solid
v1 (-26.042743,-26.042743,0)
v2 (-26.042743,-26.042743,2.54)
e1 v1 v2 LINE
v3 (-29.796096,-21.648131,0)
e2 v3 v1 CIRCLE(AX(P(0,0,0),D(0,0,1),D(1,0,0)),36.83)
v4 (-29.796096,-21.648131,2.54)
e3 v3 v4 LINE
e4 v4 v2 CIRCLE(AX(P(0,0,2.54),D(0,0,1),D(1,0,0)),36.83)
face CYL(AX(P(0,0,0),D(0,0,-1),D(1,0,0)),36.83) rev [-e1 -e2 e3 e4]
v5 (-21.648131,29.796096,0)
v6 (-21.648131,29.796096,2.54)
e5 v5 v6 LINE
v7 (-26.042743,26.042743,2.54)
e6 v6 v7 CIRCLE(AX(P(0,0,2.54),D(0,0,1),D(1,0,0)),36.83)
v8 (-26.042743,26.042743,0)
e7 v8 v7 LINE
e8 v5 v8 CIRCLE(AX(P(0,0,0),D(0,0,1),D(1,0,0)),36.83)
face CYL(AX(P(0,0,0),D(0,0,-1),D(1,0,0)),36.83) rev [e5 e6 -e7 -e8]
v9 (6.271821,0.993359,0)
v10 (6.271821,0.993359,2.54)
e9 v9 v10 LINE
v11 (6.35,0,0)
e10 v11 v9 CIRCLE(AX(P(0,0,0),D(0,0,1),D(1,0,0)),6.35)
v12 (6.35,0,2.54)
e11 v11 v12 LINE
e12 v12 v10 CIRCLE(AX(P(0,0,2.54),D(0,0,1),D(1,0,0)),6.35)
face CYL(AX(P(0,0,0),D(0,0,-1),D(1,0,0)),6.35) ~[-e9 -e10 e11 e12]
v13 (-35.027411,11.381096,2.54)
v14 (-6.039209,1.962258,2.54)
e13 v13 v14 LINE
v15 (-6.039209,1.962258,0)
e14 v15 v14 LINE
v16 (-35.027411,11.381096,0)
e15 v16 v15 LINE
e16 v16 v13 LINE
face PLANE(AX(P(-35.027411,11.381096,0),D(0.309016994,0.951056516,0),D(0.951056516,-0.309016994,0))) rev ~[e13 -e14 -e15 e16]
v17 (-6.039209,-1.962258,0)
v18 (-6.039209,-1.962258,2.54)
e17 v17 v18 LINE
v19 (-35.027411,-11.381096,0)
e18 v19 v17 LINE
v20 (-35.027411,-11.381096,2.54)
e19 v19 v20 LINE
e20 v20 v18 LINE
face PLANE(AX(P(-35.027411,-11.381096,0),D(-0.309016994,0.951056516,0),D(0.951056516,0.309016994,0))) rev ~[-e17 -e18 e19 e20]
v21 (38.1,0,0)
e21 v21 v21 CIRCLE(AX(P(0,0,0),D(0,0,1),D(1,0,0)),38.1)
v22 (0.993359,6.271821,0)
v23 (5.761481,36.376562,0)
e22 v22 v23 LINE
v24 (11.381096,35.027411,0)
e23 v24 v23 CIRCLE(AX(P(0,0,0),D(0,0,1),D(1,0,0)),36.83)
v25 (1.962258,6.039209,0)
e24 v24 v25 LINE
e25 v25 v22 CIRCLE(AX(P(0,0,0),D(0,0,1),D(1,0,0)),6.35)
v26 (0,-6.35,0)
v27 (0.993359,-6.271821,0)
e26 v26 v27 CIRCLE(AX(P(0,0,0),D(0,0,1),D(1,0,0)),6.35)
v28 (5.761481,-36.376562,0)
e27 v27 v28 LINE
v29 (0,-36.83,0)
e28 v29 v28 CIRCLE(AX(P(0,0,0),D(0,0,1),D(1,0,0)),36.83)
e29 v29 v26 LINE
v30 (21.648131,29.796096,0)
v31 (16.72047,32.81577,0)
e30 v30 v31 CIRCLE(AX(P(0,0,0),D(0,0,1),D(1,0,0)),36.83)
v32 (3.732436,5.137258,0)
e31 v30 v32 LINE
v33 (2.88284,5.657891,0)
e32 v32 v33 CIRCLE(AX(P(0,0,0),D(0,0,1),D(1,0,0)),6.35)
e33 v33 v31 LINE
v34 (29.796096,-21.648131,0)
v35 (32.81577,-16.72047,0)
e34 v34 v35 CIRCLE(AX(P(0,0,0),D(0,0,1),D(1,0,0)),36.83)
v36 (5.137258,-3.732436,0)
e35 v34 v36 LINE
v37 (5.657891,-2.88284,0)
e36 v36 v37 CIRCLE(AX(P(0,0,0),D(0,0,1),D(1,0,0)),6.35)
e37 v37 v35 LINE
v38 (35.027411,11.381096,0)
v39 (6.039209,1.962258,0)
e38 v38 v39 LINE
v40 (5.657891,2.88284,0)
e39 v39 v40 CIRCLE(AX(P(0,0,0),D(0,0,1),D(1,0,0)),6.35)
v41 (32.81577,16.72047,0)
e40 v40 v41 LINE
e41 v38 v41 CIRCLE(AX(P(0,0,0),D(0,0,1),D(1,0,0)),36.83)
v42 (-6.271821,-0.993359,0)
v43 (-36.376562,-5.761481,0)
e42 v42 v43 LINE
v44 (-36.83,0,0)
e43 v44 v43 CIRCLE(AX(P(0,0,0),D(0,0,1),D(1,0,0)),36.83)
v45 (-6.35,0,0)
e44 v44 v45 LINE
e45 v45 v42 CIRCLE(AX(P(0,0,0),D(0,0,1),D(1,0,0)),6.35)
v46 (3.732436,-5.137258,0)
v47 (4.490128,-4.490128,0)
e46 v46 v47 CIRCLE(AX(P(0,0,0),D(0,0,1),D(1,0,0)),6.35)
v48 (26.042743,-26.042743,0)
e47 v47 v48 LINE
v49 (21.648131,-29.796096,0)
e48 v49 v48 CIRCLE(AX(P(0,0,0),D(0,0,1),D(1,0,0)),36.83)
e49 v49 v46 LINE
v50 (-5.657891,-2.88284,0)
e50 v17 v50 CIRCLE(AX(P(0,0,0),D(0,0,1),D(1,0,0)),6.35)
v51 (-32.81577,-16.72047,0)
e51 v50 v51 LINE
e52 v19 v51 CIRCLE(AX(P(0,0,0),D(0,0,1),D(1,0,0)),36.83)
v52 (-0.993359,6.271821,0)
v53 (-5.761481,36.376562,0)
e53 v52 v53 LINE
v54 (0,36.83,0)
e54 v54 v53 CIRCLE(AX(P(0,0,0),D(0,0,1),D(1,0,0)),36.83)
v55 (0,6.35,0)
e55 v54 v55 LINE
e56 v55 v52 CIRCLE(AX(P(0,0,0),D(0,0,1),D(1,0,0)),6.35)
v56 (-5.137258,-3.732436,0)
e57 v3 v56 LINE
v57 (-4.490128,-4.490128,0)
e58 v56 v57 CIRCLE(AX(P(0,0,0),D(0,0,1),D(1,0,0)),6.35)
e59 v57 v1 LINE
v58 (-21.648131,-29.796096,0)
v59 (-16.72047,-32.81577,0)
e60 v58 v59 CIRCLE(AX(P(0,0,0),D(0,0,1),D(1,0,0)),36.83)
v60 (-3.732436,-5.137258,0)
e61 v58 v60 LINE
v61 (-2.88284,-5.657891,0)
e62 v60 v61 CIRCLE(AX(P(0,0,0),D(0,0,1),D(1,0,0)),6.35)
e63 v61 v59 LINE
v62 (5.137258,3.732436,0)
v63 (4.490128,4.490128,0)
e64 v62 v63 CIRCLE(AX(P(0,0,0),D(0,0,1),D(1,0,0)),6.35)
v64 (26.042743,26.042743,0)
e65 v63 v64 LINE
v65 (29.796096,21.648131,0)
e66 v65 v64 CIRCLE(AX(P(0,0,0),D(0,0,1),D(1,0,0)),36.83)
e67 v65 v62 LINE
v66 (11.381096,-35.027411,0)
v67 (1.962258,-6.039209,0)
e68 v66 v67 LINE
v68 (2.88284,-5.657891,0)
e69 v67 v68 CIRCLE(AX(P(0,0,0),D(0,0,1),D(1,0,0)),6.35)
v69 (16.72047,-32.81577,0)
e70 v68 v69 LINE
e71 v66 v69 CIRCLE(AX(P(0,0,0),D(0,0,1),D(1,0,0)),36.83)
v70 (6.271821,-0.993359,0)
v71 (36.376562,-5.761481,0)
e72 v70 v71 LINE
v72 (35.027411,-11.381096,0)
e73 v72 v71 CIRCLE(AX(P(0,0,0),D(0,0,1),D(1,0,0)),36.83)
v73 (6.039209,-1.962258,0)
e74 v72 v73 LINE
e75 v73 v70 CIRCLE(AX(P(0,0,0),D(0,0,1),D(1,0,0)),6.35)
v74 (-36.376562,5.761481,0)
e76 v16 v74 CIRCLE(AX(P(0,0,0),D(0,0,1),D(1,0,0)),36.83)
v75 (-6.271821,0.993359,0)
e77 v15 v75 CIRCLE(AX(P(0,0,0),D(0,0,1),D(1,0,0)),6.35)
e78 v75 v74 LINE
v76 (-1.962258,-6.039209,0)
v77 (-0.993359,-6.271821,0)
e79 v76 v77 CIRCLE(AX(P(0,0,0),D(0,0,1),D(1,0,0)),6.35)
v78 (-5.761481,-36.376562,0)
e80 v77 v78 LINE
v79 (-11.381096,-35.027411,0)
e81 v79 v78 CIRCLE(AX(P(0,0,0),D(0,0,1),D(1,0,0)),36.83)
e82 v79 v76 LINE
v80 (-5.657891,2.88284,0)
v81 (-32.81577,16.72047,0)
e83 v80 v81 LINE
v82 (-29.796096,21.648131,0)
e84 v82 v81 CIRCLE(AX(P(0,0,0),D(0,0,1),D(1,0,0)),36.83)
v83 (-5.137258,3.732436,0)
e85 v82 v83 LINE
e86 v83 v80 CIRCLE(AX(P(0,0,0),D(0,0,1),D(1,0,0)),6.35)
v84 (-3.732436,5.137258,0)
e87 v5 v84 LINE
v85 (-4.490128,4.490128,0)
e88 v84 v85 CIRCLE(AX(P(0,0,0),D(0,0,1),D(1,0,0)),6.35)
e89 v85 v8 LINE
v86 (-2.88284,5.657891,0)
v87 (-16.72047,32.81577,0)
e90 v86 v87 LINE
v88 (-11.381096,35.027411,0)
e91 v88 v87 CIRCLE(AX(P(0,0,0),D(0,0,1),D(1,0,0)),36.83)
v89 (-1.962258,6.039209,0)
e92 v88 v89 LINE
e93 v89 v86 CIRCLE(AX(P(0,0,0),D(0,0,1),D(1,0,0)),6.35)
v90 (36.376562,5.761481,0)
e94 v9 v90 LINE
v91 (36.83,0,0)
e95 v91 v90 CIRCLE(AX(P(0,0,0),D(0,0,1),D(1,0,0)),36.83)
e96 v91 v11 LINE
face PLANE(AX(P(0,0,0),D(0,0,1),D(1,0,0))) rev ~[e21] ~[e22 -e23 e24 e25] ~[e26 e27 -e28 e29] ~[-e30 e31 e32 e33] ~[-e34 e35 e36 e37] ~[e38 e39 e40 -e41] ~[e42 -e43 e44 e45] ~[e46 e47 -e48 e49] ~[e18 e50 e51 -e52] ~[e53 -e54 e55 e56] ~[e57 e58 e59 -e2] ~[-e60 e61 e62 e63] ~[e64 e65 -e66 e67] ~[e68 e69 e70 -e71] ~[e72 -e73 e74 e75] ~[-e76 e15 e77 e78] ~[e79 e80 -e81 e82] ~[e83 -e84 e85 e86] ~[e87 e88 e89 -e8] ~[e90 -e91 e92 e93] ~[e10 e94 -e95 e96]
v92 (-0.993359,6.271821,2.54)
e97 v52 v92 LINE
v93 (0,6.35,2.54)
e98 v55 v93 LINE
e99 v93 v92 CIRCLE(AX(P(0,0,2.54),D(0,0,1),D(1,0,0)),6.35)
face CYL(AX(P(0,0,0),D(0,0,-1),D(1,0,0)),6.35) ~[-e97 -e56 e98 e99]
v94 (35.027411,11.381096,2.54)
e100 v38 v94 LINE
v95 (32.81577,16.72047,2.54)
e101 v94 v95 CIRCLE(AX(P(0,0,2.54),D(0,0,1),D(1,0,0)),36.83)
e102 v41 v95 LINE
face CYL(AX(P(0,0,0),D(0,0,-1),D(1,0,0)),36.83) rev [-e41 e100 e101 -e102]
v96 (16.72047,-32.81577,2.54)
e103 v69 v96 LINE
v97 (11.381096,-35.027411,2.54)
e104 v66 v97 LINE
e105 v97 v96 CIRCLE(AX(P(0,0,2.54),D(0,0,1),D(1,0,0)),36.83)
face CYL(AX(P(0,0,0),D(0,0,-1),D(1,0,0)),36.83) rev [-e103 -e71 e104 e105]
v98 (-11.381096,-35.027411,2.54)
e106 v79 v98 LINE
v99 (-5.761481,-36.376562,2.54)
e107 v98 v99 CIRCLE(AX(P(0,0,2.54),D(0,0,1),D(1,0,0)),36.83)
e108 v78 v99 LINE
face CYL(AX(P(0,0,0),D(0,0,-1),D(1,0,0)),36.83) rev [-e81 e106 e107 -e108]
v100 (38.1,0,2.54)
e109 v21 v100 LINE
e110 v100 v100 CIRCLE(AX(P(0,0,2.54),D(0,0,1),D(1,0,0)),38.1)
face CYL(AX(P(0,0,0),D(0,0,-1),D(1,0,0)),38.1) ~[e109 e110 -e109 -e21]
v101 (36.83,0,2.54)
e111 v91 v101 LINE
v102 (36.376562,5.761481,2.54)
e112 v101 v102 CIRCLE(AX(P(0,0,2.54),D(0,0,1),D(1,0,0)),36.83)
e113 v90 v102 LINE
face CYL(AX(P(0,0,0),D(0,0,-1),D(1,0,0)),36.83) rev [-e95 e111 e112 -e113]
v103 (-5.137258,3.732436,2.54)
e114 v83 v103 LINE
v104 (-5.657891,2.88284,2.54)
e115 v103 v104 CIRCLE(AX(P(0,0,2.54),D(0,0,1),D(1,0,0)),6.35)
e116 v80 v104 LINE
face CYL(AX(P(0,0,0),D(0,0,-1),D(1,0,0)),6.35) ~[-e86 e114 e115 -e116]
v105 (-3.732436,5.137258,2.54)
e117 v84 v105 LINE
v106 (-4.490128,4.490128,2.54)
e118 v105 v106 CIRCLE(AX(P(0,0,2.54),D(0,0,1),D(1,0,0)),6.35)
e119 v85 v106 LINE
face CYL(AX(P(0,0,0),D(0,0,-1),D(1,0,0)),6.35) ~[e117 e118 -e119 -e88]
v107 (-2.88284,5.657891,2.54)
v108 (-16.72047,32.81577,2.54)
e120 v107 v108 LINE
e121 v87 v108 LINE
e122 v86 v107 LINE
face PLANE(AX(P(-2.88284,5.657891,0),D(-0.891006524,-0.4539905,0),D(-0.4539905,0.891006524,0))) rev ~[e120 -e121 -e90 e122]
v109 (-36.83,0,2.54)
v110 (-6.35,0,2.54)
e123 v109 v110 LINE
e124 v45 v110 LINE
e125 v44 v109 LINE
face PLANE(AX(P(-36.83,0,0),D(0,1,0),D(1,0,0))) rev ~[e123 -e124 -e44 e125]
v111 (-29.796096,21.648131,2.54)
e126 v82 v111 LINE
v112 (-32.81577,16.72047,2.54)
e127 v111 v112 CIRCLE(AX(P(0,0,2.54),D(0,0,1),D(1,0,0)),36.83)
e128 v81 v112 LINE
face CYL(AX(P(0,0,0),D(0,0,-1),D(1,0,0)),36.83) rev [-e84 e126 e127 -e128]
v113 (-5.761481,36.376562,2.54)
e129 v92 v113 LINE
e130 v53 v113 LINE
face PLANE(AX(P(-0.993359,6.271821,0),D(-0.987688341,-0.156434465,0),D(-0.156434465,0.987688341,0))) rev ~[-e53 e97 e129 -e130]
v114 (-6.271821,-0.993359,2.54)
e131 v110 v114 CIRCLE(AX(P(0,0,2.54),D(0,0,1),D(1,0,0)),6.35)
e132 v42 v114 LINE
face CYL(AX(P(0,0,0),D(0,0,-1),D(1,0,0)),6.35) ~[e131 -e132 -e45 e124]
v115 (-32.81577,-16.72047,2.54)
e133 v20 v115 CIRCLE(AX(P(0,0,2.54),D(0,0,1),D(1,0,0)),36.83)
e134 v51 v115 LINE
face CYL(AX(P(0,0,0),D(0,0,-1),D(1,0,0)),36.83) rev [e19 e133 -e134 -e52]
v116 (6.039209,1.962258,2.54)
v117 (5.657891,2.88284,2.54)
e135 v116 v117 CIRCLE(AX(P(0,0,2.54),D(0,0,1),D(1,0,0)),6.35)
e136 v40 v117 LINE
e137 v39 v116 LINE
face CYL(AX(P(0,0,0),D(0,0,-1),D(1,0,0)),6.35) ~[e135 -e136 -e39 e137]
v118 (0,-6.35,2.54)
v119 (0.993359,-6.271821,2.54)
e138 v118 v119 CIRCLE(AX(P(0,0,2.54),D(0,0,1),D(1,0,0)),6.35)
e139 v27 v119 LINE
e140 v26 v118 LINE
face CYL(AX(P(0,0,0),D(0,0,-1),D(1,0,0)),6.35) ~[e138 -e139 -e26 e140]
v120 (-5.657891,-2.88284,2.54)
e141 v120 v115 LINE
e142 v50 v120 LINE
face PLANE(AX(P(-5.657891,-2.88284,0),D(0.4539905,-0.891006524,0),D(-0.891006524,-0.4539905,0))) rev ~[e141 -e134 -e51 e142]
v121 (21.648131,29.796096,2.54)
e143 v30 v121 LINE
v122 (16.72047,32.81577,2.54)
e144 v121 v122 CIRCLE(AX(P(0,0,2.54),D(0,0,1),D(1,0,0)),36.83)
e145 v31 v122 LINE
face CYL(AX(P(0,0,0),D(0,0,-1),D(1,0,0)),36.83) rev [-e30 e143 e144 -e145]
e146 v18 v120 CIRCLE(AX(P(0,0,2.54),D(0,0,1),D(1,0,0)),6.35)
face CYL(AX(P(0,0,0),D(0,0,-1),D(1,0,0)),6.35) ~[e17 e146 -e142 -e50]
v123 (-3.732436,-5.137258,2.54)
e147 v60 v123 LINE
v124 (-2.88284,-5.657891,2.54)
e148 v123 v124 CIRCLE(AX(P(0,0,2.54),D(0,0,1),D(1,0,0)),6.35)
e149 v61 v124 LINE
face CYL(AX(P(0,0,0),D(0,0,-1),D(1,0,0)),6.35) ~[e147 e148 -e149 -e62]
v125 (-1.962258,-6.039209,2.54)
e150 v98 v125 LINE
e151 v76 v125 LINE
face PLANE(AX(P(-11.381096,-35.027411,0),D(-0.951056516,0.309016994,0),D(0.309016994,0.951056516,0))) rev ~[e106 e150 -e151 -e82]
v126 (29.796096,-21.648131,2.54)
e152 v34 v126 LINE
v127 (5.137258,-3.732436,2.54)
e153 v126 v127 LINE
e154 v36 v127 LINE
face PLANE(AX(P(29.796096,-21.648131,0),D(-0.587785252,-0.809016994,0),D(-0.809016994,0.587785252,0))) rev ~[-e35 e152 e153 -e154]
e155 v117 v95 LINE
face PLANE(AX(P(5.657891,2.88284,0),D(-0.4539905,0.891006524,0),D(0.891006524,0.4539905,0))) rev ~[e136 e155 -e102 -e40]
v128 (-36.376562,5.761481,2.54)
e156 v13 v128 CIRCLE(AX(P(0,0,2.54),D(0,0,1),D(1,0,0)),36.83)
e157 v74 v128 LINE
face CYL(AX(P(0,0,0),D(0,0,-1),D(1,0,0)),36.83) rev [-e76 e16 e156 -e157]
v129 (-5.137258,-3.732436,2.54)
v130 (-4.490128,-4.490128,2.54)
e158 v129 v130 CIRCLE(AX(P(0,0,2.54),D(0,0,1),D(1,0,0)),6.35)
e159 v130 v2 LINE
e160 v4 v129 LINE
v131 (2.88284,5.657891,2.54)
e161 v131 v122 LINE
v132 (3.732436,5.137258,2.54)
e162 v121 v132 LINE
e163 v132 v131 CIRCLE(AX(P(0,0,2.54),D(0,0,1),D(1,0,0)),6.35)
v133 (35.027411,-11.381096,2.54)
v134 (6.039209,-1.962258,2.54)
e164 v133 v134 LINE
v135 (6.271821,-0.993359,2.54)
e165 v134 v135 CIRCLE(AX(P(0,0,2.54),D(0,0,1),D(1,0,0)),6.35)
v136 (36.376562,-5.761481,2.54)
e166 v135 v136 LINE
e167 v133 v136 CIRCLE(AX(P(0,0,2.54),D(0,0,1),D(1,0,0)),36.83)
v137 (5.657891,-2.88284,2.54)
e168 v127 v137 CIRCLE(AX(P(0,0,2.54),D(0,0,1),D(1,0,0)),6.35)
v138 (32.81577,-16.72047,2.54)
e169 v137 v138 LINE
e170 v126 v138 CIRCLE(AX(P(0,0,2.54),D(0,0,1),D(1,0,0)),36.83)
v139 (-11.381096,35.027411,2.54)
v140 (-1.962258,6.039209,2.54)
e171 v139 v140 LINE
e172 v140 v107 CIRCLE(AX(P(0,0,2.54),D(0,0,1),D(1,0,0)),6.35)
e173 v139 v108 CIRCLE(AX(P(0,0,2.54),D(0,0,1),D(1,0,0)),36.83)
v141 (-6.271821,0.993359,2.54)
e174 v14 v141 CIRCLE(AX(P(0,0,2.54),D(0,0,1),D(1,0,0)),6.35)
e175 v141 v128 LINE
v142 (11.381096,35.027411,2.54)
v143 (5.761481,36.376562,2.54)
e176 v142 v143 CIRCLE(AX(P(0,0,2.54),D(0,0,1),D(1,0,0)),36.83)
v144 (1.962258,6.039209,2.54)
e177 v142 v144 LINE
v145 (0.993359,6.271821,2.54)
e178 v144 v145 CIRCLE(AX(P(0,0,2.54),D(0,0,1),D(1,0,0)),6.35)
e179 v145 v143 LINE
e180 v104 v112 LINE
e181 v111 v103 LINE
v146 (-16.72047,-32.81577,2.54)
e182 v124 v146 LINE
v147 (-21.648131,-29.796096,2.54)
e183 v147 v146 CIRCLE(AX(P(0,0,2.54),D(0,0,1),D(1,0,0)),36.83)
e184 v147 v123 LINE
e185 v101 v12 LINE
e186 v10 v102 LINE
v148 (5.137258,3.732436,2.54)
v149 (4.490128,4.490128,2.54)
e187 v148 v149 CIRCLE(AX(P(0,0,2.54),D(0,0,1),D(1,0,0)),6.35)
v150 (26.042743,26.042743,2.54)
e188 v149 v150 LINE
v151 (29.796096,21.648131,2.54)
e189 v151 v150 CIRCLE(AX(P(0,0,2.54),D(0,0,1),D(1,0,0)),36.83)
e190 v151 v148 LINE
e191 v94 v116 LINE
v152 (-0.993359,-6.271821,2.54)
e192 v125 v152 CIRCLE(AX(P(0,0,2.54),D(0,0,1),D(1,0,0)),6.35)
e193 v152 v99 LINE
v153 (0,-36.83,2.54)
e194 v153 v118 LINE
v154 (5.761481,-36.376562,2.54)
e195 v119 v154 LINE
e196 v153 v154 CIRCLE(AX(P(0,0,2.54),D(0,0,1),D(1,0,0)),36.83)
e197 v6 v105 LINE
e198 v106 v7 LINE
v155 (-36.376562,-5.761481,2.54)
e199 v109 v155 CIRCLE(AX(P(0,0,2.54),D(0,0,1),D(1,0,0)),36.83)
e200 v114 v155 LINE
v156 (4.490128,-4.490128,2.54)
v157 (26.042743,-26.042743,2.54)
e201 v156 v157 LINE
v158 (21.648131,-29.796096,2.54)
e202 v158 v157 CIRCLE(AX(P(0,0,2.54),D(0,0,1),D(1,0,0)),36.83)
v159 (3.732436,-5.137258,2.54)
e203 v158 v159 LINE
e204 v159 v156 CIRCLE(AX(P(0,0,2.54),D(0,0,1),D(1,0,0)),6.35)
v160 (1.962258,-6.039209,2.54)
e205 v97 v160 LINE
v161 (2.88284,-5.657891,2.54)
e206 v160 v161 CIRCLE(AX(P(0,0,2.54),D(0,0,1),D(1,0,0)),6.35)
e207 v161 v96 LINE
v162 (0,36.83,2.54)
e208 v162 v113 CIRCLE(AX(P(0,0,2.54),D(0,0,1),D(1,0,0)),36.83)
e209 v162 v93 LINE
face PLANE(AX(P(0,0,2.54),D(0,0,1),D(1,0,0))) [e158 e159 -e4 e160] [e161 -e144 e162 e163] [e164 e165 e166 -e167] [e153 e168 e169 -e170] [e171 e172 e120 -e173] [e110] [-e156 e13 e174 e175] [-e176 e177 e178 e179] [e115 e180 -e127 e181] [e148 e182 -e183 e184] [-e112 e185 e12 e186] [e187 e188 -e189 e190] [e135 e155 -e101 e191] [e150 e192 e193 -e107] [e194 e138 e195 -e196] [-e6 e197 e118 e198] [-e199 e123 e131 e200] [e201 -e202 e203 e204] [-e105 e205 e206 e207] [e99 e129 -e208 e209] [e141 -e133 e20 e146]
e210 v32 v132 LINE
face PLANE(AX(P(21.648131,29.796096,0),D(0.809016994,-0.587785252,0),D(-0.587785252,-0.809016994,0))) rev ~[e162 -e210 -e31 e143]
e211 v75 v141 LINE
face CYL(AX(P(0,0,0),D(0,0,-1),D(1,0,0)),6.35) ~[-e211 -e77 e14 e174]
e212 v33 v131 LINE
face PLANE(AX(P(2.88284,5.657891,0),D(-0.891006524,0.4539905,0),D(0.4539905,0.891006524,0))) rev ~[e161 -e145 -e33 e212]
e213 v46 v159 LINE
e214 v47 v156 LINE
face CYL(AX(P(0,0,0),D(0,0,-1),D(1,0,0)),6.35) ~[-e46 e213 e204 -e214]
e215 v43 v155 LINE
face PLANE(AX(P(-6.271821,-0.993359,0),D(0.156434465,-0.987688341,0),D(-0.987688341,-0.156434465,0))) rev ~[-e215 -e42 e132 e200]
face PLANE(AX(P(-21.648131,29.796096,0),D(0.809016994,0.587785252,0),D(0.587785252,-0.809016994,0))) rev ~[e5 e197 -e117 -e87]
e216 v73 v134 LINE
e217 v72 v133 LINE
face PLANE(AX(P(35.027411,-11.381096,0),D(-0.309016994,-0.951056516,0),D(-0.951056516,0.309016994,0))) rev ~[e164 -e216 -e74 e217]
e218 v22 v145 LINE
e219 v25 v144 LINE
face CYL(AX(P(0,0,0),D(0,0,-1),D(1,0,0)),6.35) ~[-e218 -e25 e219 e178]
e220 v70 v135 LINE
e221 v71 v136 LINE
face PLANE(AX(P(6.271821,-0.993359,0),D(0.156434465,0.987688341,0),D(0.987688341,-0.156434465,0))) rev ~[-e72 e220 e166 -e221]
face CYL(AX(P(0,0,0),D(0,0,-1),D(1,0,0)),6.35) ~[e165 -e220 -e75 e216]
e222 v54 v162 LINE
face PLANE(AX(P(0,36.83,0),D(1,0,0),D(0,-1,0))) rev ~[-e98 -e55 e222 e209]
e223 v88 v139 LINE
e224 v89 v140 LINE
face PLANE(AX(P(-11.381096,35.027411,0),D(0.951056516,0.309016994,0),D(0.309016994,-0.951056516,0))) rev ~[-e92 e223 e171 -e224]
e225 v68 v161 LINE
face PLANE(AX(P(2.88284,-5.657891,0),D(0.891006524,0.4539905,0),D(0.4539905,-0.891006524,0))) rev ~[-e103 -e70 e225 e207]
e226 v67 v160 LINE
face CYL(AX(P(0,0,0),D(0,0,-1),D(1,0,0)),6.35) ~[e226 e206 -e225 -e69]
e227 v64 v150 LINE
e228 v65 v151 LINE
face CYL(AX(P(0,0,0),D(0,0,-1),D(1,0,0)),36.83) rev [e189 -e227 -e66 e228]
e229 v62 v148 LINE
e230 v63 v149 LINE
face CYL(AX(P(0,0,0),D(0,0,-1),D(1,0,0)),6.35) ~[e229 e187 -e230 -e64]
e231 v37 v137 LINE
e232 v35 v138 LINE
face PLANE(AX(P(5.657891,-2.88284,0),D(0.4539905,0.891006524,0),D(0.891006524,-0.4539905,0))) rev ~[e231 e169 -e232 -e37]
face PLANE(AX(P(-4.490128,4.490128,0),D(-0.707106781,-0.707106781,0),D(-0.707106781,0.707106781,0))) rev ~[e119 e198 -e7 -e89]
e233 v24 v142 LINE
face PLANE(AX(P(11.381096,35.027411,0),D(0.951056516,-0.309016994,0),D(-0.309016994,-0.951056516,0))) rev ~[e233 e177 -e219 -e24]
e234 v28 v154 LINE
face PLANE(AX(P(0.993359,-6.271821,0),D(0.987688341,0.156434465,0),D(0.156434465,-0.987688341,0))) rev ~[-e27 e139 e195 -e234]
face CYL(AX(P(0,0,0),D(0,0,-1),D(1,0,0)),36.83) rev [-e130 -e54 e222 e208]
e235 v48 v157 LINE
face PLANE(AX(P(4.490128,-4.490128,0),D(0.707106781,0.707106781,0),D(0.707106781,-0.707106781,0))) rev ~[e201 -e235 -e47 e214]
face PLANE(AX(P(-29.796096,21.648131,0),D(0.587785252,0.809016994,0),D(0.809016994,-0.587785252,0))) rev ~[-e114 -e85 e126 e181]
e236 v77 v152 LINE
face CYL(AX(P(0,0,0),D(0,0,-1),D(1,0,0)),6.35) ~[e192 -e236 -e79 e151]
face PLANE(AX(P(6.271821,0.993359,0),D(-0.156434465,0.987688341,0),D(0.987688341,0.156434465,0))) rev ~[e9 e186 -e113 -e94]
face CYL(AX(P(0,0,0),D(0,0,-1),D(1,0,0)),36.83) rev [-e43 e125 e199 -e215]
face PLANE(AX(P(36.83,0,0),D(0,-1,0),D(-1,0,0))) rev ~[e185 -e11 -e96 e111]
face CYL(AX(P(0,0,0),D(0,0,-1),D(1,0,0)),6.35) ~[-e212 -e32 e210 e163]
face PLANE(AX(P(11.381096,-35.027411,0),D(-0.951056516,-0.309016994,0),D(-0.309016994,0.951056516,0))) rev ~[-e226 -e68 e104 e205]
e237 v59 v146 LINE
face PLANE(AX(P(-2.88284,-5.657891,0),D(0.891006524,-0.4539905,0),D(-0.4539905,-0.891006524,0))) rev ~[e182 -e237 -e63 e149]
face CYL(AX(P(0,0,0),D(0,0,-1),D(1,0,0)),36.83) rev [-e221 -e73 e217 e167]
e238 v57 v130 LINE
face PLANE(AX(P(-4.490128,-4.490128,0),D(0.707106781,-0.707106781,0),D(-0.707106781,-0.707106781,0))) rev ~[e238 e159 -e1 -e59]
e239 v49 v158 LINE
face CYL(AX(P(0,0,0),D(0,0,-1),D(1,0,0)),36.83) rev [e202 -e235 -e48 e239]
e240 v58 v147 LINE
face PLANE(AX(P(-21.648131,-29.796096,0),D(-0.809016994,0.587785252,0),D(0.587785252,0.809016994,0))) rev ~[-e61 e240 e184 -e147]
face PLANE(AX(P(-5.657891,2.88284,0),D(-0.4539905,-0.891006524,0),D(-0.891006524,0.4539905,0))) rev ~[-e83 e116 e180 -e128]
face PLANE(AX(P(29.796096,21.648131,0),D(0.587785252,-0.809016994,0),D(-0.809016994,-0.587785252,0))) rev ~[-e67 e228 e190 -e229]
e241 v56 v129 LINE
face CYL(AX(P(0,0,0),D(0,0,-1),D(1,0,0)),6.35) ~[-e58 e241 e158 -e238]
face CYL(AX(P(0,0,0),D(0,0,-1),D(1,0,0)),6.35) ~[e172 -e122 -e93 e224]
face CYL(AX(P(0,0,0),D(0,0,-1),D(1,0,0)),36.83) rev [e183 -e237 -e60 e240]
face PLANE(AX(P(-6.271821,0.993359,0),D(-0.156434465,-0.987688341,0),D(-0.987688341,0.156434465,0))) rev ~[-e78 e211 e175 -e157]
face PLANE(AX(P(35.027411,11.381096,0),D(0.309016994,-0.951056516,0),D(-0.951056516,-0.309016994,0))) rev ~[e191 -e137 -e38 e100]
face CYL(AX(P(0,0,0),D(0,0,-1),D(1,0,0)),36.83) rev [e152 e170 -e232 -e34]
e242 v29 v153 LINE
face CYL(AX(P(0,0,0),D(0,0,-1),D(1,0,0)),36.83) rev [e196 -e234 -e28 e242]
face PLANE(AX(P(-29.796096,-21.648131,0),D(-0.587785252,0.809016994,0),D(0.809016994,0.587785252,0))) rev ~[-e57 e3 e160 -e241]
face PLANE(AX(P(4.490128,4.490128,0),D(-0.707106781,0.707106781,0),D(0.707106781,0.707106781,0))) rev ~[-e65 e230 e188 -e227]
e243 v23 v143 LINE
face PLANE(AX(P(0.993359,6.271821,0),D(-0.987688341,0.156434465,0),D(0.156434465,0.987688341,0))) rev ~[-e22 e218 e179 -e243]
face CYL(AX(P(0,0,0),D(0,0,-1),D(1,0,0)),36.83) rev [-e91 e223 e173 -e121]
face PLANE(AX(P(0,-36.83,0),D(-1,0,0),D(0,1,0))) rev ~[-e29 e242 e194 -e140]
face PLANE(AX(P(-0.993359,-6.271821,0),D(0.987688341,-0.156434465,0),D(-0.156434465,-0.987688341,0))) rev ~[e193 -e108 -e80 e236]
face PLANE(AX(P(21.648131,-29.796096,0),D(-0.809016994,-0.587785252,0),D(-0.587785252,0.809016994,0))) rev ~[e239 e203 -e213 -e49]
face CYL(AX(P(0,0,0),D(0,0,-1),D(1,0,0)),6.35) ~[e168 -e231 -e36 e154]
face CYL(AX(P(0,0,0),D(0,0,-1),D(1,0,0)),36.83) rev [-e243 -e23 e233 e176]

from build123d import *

# Parameters (mm, degrees)
SKETCH1_R           = 38.1
BOSS_EXTRUDE3_DEPTH = 2.54


with BuildPart() as part:
    # Sketch1 → Boss-Extrude3 (new body)
    with BuildSketch(Plane.XY):
        Circle(SKETCH1_R)
        with BuildLine():
            Line((0, -36.83), (0, -6.35))
            ThreePointArc((0, -6.35), (0.498215258, -6.330425069), (0.993358853, -6.271820963))
            Line((0.993358853, -6.271820963), (5.761481347, -36.376561584))
            ThreePointArc((5.761481347, -36.376561584), (2.889648496, -36.716465401), (0, -36.83))
        make_face(mode=Mode.SUBTRACT)
        with BuildLine():
            Line((-0.993358853, -6.271820963), (-5.761481347, -36.376561584))
            ThreePointArc((-5.761481347, -36.376561584), (-8.597792751, -35.812384168), (-11.381095903, -35.027411495))
            Line((-11.381095903, -35.027411495), (-1.962257914, -6.039208878))
            ThreePointArc((-1.962257914, -6.039208878), (-1.48237806, -6.174548995), (-0.993358853, -6.271820963))
        make_face(mode=Mode.SUBTRACT)
        with BuildLine():
            ThreePointArc((16.720470105, -32.815770286), (14.094230814, -34.026483182), (11.381095903, -35.027411495))
            Line((11.381095903, -35.027411495), (1.962257914, -6.039208878))
            ThreePointArc((1.962257914, -6.039208878), (2.430039796, -5.866635031), (2.882839673, -5.657891429))
            Line((2.882839673, -5.657891429), (16.720470105, -32.815770286))
        make_face(mode=Mode.SUBTRACT)
        with BuildLine():
            ThreePointArc((26.042742751, -26.042742751), (23.91917162, -28.005751713), (21.648130842, -29.796095903))
            Line((21.648130842, -29.796095903), (3.732436352, -5.137257914))
            ThreePointArc((3.732436352, -5.137257914), (4.123995107, -4.828577882), (4.490128061, -4.490128061))
            Line((4.490128061, -4.490128061), (26.042742751, -26.042742751))
        make_face(mode=Mode.SUBTRACT)
        with BuildLine():
            ThreePointArc((32.815770286, -16.720470105), (31.402737253, -19.243622138), (29.796095903, -21.648130842))
            Line((29.796095903, -21.648130842), (5.137257914, -3.732436352))
            ThreePointArc((5.137257914, -3.732436352), (5.414265044, -3.317865886), (5.657891429, -2.882839673))
            Line((5.657891429, -2.882839673), (32.815770286, -16.720470105))
        make_face(mode=Mode.SUBTRACT)
        with BuildLine():
            ThreePointArc((36.376561584, -5.761481347), (35.812384168, -8.597792751), (35.027411495, -11.381095903))
            Line((35.027411495, -11.381095903), (6.039208878, -1.962257914))
            ThreePointArc((6.039208878, -1.962257914), (6.174548995, -1.48237806), (6.271820963, -0.993358853))
            Line((6.271820963, -0.993358853), (36.376561584, -5.761481347))
        make_face(mode=Mode.SUBTRACT)
        with BuildLine():
            ThreePointArc((36.376561584, 5.761481347), (36.716465401, 2.889648496), (36.83, 0))
            Line((36.83, 0), (6.35, 0))
            ThreePointArc((6.35, 0), (6.330425069, 0.498215258), (6.271820963, 0.993358853))
            Line((6.271820963, 0.993358853), (36.376561584, 5.761481347))
        make_face(mode=Mode.SUBTRACT)
        with BuildLine():
            ThreePointArc((32.815770286, 16.720470105), (34.026483182, 14.094230814), (35.027411495, 11.381095903))
            Line((35.027411495, 11.381095903), (6.039208878, 1.962257914))
            ThreePointArc((6.039208878, 1.962257914), (5.866635031, 2.430039796), (5.657891429, 2.882839673))
            Line((5.657891429, 2.882839673), (32.815770286, 16.720470105))
        make_face(mode=Mode.SUBTRACT)
        with BuildLine():
            ThreePointArc((26.042742751, 26.042742751), (28.005751713, 23.91917162), (29.796095903, 21.648130842))
            Line((29.796095903, 21.648130842), (5.137257914, 3.732436352))
            ThreePointArc((5.137257914, 3.732436352), (4.828577882, 4.123995107), (4.490128061, 4.490128061))
            Line((4.490128061, 4.490128061), (26.042742751, 26.042742751))
        make_face(mode=Mode.SUBTRACT)
        with BuildLine():
            ThreePointArc((16.720470105, 32.815770286), (19.243622138, 31.402737253), (21.648130842, 29.796095903))
            Line((21.648130842, 29.796095903), (3.732436352, 5.137257914))
            ThreePointArc((3.732436352, 5.137257914), (3.317865886, 5.414265044), (2.882839673, 5.657891429))
            Line((2.882839673, 5.657891429), (16.720470105, 32.815770286))
        make_face(mode=Mode.SUBTRACT)
        with BuildLine():
            ThreePointArc((5.761481347, 36.376561584), (8.597792751, 35.812384168), (11.381095903, 35.027411495))
            Line((11.381095903, 35.027411495), (1.962257914, 6.039208878))
            ThreePointArc((1.962257914, 6.039208878), (1.48237806, 6.174548995), (0.993358853, 6.271820963))
            Line((0.993358853, 6.271820963), (5.761481347, 36.376561584))
        make_face(mode=Mode.SUBTRACT)
        with BuildLine():
            ThreePointArc((-5.761481347, 36.376561584), (-2.889648496, 36.716465401), (0, 36.83))
            Line((0, 36.83), (0, 6.35))
            ThreePointArc((0, 6.35), (-0.498215258, 6.330425069), (-0.993358853, 6.271820963))
            Line((-0.993358853, 6.271820963), (-5.761481347, 36.376561584))
        make_face(mode=Mode.SUBTRACT)
        with BuildLine():
            ThreePointArc((-16.720470105, 32.815770286), (-14.094230814, 34.026483182), (-11.381095903, 35.027411495))
            Line((-11.381095903, 35.027411495), (-1.962257914, 6.039208878))
            ThreePointArc((-1.962257914, 6.039208878), (-2.430039796, 5.866635031), (-2.882839673, 5.657891429))
            Line((-2.882839673, 5.657891429), (-16.720470105, 32.815770286))
        make_face(mode=Mode.SUBTRACT)
        with BuildLine():
            ThreePointArc((-26.042742751, 26.042742751), (-23.91917162, 28.005751713), (-21.648130842, 29.796095903))
            Line((-21.648130842, 29.796095903), (-3.732436352, 5.137257914))
            ThreePointArc((-3.732436352, 5.137257914), (-4.123995107, 4.828577882), (-4.490128061, 4.490128061))
            Line((-4.490128061, 4.490128061), (-26.042742751, 26.042742751))
        make_face(mode=Mode.SUBTRACT)
        with BuildLine():
            ThreePointArc((-32.815770286, 16.720470105), (-31.402737253, 19.243622138), (-29.796095903, 21.648130842))
            Line((-29.796095903, 21.648130842), (-5.137257914, 3.732436352))
            ThreePointArc((-5.137257914, 3.732436352), (-5.414265044, 3.317865886), (-5.657891429, 2.882839673))
            Line((-5.657891429, 2.882839673), (-32.815770286, 16.720470105))
        make_face(mode=Mode.SUBTRACT)
        with BuildLine():
            ThreePointArc((-36.376561584, 5.761481347), (-35.812384168, 8.597792751), (-35.027411495, 11.381095903))
            Line((-35.027411495, 11.381095903), (-6.039208878, 1.962257914))
            ThreePointArc((-6.039208878, 1.962257914), (-6.174548995, 1.48237806), (-6.271820963, 0.993358853))
            Line((-6.271820963, 0.993358853), (-36.376561584, 5.761481347))
        make_face(mode=Mode.SUBTRACT)
        with BuildLine():
            ThreePointArc((-36.376561584, -5.761481347), (-36.716465401, -2.889648496), (-36.83, 0))
            Line((-36.83, 0), (-6.35, 0))
            ThreePointArc((-6.35, 0), (-6.330425069, -0.498215258), (-6.271820963, -0.993358853))
            Line((-6.271820963, -0.993358853), (-36.376561584, -5.761481347))
        make_face(mode=Mode.SUBTRACT)
        with BuildLine():
            ThreePointArc((-32.815770286, -16.720470105), (-34.026483182, -14.094230814), (-35.027411495, -11.381095903))
            Line((-35.027411495, -11.381095903), (-6.039208878, -1.962257914))
            ThreePointArc((-6.039208878, -1.962257914), (-5.866635031, -2.430039796), (-5.657891429, -2.882839673))
            Line((-5.657891429, -2.882839673), (-32.815770286, -16.720470105))
        make_face(mode=Mode.SUBTRACT)
        with BuildLine():
            ThreePointArc((-26.042742751, -26.042742751), (-28.005751713, -23.91917162), (-29.796095903, -21.648130842))
            Line((-29.796095903, -21.648130842), (-5.137257914, -3.732436352))
            ThreePointArc((-5.137257914, -3.732436352), (-4.828577882, -4.123995107), (-4.490128061, -4.490128061))
            Line((-4.490128061, -4.490128061), (-26.042742751, -26.042742751))
        make_face(mode=Mode.SUBTRACT)
        with BuildLine():
            ThreePointArc((-16.720470105, -32.815770286), (-19.243622138, -31.402737253), (-21.648130842, -29.796095903))
            Line((-21.648130842, -29.796095903), (-3.732436352, -5.137257914))
            ThreePointArc((-3.732436352, -5.137257914), (-3.317865886, -5.414265044), (-2.882839673, -5.657891429))
            Line((-2.882839673, -5.657891429), (-16.720470105, -32.815770286))
        make_face(mode=Mode.SUBTRACT)
    extrude(amount=BOSS_EXTRUDE3_DEPTH)


solid = part.part
